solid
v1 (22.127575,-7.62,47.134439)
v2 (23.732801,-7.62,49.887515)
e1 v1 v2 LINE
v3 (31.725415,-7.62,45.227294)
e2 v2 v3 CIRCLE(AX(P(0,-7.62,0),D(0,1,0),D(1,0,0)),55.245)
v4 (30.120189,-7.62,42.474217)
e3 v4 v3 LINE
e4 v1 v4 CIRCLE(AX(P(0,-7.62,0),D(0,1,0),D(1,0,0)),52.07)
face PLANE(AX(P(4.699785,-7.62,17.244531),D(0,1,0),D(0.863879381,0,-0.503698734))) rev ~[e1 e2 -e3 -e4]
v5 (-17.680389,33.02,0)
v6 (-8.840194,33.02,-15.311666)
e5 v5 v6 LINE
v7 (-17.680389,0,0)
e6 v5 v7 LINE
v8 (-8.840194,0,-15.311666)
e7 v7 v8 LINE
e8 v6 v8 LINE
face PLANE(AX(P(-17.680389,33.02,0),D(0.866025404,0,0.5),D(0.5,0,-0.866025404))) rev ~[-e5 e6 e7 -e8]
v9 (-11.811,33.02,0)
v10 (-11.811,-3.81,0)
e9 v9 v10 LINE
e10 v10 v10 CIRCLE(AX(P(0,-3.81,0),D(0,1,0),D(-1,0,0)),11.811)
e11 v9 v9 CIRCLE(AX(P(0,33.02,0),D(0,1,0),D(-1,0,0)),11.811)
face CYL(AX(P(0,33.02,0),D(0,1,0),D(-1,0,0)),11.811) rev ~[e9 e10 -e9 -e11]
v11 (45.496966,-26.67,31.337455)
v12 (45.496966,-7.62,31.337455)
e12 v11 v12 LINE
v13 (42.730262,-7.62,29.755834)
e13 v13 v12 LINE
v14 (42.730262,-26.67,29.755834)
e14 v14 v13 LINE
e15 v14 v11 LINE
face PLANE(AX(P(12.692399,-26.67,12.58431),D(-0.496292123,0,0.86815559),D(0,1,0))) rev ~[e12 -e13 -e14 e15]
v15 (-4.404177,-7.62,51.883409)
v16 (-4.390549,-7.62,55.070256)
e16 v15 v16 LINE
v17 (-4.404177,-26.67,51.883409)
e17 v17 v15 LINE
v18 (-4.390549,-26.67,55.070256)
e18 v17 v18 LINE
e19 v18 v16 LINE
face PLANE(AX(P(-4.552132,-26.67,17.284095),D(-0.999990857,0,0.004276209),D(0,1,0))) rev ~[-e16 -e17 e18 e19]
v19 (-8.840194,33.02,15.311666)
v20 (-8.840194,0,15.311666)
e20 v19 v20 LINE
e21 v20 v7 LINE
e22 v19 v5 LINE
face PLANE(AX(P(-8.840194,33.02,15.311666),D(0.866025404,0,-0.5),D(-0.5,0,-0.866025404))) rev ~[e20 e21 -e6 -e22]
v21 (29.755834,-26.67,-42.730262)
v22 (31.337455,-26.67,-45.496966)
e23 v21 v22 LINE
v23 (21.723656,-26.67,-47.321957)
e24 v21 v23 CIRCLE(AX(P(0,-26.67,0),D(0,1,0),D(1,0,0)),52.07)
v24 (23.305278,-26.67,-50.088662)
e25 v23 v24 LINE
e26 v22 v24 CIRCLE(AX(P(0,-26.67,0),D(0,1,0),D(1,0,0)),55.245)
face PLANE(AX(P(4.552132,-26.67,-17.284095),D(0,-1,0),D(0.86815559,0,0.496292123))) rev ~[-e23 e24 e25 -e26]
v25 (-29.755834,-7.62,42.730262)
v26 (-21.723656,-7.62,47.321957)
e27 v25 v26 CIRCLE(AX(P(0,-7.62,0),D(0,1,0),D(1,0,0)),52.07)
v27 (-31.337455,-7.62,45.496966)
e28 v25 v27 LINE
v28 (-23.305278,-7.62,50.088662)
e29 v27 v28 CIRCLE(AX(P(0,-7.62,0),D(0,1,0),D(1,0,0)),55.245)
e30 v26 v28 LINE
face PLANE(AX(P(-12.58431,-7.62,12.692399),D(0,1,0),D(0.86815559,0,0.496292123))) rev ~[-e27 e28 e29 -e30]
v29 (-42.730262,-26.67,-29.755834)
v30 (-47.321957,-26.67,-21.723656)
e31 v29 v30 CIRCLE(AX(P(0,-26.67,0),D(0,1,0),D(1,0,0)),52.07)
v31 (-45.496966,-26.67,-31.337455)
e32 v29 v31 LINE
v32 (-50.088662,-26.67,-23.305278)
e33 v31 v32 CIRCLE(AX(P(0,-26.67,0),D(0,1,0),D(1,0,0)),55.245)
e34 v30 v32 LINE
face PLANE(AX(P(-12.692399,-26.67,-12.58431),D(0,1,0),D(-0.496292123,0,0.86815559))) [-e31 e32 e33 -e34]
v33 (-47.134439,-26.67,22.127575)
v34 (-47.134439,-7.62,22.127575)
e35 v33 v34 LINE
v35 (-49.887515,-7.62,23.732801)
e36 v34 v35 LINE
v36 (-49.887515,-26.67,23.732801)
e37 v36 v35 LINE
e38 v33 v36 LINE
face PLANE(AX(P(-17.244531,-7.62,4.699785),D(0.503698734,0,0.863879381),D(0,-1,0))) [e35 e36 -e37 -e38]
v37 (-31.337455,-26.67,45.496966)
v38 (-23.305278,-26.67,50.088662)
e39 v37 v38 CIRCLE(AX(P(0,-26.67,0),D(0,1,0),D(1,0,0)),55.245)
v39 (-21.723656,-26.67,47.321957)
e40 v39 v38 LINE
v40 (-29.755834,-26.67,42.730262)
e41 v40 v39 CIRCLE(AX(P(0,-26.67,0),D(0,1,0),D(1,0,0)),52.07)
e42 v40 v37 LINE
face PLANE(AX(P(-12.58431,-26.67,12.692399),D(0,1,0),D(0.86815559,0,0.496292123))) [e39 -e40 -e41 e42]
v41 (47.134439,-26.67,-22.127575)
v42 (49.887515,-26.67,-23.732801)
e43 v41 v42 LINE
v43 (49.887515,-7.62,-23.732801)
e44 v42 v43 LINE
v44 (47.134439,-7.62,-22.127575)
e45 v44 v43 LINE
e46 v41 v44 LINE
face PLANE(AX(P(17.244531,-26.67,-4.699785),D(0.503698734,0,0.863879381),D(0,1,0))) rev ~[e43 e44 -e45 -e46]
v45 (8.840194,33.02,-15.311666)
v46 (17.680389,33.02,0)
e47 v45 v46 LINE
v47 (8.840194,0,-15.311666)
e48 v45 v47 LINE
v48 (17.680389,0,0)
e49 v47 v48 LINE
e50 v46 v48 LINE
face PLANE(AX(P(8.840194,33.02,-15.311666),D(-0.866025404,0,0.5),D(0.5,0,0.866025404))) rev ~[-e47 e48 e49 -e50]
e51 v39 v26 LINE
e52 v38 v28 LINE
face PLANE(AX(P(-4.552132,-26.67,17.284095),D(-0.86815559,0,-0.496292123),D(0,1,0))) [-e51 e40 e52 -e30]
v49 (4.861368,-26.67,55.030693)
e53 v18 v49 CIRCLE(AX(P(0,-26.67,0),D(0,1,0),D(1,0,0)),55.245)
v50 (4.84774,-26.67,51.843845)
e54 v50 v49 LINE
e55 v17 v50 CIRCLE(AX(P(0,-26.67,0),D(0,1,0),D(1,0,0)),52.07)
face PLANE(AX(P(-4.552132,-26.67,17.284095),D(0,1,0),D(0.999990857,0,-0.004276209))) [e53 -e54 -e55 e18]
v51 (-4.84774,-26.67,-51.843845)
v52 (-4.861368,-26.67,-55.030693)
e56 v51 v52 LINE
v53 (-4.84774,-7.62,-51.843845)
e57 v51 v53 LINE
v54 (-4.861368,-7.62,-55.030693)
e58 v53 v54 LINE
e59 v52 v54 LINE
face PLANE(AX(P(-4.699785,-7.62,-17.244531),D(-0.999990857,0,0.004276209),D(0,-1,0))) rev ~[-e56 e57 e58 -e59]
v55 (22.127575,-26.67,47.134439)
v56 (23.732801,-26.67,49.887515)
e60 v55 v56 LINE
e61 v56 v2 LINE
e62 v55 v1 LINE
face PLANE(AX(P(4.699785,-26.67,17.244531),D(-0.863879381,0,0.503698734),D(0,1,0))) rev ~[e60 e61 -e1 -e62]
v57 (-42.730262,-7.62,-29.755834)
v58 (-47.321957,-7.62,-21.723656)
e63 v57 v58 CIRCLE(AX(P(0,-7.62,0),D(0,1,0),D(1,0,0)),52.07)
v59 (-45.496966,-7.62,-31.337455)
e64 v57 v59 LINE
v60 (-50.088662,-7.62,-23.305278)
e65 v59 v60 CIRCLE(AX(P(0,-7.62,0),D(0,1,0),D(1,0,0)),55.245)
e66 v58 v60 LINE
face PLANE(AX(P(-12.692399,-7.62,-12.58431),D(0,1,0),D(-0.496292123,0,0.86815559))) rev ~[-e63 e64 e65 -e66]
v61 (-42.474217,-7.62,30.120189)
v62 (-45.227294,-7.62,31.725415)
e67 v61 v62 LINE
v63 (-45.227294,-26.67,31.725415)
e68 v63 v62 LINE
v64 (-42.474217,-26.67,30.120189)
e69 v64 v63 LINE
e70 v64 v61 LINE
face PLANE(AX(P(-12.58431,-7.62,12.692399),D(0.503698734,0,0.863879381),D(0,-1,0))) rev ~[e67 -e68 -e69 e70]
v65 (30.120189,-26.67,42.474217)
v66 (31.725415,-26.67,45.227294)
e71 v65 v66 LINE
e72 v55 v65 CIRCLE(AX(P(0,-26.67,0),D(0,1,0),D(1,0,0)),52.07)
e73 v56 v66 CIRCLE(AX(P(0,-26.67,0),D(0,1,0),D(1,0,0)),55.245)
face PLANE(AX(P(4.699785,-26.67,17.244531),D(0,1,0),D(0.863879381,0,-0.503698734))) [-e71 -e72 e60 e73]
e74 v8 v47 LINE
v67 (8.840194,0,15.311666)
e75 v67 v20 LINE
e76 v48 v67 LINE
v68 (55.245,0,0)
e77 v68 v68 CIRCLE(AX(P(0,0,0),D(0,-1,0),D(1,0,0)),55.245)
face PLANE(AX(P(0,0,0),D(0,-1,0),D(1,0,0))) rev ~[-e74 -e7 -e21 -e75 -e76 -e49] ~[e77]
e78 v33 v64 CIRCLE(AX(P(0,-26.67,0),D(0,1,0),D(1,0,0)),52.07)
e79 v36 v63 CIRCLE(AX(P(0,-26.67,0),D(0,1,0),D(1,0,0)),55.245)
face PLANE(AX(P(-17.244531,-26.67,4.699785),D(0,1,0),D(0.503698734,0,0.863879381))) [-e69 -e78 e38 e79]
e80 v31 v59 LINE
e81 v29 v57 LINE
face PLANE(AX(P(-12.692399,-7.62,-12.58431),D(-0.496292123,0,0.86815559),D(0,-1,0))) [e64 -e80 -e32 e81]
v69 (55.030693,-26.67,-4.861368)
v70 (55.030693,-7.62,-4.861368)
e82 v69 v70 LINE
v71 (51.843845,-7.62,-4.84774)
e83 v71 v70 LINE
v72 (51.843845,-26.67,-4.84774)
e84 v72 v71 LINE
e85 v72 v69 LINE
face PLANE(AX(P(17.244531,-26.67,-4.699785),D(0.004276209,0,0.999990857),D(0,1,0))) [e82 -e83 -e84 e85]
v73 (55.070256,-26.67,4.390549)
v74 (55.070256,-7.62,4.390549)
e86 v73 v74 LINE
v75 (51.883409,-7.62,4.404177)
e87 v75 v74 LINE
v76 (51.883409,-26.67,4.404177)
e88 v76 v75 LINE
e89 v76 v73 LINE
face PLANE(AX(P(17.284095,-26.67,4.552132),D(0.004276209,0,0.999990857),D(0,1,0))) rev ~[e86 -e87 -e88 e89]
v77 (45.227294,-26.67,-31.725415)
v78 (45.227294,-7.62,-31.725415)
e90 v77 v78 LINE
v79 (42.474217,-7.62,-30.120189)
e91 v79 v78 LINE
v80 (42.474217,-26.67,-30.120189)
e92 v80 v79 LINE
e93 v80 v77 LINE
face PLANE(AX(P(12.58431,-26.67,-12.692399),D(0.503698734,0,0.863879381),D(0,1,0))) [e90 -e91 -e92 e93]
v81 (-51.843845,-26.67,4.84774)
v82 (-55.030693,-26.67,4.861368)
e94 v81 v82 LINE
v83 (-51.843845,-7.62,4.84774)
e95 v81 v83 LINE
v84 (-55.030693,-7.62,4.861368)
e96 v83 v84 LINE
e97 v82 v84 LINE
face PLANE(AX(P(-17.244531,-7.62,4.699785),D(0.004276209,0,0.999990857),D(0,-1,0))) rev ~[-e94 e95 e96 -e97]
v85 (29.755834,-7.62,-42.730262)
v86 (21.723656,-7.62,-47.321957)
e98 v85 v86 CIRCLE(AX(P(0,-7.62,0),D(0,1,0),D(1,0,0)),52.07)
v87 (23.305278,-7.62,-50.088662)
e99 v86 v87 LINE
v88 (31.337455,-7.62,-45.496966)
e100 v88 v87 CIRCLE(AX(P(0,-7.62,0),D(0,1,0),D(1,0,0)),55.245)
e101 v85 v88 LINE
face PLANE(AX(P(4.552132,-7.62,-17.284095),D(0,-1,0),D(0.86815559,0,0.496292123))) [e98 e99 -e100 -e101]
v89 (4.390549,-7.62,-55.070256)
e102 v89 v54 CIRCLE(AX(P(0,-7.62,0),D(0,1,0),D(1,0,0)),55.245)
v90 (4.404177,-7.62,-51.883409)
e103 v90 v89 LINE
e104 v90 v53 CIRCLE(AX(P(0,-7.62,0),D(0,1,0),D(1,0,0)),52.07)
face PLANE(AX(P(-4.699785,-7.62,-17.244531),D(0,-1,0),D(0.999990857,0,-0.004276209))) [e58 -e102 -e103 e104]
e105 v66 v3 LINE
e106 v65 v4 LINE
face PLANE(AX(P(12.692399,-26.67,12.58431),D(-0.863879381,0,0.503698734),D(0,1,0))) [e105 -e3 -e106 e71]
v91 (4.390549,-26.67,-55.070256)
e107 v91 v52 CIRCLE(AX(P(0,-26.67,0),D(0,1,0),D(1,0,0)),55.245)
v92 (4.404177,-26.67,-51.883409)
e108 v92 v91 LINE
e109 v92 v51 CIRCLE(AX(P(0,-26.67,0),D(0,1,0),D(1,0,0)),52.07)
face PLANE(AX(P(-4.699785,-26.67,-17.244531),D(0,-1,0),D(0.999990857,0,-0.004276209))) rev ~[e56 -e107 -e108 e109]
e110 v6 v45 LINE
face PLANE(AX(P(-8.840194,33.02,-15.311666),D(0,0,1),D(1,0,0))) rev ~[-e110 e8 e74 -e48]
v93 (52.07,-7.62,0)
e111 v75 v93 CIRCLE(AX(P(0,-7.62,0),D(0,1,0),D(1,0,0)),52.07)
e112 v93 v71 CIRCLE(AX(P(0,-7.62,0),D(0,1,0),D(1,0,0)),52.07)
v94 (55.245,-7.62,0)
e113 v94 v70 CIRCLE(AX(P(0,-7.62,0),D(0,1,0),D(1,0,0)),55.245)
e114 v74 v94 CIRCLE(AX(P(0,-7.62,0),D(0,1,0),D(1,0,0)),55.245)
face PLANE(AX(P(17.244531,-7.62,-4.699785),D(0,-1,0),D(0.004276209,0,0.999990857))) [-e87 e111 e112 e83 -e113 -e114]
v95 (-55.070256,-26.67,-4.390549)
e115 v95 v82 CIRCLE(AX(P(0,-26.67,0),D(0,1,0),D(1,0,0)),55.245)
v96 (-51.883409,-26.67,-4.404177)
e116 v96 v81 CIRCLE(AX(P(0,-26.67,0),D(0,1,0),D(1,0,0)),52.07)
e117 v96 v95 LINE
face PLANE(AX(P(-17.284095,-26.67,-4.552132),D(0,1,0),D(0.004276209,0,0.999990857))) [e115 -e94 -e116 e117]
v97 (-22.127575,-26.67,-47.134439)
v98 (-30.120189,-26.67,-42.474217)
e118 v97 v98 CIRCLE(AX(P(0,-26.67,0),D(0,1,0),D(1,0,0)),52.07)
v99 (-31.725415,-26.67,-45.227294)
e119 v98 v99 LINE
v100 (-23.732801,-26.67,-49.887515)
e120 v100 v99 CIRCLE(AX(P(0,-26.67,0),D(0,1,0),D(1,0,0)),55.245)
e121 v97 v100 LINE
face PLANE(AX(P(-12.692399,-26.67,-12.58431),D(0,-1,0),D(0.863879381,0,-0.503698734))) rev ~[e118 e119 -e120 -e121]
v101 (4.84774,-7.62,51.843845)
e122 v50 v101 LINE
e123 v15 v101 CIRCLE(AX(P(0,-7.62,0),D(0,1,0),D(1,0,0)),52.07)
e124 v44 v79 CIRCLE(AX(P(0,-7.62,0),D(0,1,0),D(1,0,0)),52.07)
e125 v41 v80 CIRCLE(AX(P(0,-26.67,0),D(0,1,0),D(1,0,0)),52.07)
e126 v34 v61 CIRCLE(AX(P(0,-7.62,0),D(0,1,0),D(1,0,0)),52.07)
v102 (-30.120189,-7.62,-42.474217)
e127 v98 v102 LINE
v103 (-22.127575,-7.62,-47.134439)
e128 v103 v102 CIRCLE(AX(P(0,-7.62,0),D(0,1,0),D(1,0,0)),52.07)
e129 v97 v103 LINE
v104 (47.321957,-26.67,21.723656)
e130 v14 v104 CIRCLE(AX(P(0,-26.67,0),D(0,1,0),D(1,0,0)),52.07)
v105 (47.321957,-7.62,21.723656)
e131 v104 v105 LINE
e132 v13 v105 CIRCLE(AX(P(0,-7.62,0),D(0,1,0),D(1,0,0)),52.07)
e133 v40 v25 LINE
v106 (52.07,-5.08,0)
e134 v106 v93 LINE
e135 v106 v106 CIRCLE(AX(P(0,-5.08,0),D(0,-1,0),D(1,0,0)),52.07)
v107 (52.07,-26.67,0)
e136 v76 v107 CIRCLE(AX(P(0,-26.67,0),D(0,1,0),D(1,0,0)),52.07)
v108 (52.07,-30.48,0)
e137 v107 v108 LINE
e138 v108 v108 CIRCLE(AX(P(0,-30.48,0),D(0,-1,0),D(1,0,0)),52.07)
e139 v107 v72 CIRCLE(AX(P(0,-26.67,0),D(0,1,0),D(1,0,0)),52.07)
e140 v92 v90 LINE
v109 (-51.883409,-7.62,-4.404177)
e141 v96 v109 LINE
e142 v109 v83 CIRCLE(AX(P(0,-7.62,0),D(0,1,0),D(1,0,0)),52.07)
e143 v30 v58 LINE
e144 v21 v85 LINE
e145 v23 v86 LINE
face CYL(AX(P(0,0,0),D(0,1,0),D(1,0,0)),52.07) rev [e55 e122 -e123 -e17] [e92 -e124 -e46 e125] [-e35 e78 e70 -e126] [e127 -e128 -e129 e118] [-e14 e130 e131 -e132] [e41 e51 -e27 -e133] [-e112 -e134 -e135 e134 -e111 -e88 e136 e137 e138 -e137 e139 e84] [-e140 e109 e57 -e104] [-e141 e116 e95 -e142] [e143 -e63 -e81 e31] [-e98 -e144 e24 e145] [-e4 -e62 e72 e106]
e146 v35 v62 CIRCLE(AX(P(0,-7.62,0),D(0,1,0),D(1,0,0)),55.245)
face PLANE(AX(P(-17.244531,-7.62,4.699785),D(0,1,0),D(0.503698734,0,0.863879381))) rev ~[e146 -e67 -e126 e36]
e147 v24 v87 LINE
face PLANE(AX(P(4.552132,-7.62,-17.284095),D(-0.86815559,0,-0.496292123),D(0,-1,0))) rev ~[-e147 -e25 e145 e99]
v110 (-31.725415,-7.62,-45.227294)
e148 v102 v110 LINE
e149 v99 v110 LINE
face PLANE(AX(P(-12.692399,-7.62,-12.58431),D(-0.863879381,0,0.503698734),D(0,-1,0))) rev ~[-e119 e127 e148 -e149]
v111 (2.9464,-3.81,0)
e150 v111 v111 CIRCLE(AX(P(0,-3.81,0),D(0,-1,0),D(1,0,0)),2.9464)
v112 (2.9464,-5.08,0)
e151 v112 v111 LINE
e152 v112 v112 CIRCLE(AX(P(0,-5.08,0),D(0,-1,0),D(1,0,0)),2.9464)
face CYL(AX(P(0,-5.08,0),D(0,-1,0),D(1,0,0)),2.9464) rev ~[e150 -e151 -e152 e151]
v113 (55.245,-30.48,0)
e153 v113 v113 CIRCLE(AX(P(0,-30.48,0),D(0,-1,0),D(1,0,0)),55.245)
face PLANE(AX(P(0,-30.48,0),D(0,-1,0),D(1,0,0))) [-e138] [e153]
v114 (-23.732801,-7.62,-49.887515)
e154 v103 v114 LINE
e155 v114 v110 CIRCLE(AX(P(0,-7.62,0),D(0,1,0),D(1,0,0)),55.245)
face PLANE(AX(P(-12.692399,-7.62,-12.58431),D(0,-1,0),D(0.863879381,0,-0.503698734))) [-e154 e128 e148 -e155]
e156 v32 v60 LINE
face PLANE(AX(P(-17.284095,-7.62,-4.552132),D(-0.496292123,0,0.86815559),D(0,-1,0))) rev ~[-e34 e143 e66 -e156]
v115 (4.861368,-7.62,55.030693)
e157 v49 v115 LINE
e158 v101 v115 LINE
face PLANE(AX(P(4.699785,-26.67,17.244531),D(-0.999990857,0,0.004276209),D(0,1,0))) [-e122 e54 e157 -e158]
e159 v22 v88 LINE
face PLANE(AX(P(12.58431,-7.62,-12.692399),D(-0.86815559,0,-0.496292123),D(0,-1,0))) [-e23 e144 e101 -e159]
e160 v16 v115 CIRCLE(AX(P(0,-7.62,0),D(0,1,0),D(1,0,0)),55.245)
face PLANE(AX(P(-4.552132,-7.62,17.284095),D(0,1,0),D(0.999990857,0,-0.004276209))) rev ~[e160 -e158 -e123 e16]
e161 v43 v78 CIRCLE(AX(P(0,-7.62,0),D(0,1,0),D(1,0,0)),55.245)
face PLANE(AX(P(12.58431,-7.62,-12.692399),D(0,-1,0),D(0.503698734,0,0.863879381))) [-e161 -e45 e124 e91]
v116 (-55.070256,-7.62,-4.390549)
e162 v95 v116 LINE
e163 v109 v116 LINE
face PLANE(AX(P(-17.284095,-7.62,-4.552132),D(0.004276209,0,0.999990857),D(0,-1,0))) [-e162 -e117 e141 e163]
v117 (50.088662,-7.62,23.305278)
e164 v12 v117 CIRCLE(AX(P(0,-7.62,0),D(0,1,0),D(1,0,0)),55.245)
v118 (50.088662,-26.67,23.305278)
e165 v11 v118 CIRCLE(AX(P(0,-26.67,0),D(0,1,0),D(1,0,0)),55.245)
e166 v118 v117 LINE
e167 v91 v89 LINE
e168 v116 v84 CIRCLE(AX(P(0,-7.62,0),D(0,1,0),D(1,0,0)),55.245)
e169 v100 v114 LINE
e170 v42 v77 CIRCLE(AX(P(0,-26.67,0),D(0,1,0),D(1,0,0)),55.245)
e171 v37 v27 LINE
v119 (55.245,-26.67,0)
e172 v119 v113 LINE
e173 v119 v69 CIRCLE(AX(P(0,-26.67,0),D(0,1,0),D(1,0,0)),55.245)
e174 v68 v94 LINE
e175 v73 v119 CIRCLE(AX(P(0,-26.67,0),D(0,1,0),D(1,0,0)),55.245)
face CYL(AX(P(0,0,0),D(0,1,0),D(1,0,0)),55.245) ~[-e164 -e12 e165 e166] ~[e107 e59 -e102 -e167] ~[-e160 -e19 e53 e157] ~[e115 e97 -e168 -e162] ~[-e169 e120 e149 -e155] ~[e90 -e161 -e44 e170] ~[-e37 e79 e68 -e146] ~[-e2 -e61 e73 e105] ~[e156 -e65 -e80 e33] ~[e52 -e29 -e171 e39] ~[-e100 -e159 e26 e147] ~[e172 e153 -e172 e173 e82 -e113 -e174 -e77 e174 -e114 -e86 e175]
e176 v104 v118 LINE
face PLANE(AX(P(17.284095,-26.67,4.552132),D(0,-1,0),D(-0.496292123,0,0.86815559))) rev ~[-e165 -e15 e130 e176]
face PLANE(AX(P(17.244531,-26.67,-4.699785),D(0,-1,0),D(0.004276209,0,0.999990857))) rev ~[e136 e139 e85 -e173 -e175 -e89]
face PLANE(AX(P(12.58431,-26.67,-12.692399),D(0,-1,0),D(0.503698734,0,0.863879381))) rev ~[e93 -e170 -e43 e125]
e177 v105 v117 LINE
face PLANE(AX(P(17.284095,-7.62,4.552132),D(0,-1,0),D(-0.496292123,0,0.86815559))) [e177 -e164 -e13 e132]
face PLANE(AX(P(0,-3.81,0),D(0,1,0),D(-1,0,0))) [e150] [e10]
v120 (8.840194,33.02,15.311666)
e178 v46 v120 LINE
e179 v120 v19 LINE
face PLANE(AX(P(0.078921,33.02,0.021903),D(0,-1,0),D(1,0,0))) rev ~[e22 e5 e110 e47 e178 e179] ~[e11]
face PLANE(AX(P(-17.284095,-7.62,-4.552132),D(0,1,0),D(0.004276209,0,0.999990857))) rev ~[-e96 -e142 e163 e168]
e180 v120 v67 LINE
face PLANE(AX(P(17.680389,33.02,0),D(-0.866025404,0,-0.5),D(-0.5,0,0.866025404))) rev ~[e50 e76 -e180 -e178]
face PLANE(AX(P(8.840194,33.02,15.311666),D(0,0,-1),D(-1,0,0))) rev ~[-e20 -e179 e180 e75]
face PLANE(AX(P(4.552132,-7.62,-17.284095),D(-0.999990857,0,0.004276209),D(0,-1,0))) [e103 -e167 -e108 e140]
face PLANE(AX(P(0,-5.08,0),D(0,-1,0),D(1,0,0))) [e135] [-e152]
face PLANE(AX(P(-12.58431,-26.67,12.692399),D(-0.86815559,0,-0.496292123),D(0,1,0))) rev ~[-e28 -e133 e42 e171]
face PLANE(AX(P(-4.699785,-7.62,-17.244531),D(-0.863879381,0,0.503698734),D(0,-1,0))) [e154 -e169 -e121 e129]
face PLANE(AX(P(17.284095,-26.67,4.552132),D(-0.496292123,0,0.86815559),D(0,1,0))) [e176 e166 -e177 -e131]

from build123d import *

# Parameters (mm, degrees)
F0_R      = 52.07
F1_DEPTH  = 5.08
F0_R_2    = 55.245
F2_DEPTH  = 30.48
F4_DEPTH  = 21.59
F5_W      = 9.2520020868
F5_H      = 19.05
F6_DEPTH  = 50.8
F7_W      = 9.2520020868
F7_H      = 19.05
F8_DEPTH  = 50.8
F9_W      = 9.2520020868
F9_H      = 19.05
F10_DEPTH = 50.8
F11_W     = 19.05
F11_H     = 9.2520020868
F12_DEPTH = 50.8
F13_W     = 19.05
F13_H     = 9.2520020868
F14_DEPTH = 50.8
F15_W     = 19.05
F15_H     = 9.2520020868
F16_DEPTH = 50.8
F17_W     = 9.2520020868
F17_H     = 19.05
F18_DEPTH = 50.8
F19_W     = 9.2520020868
F19_H     = 19.05
F20_DEPTH = 50.8
F21_W     = 9.2520020868
F21_H     = 19.05
F22_DEPTH = 50.8
F23_W     = 19.05
F23_H     = 9.2520020868
F24_DEPTH = 50.8
F25_W     = 19.05
F25_H     = 9.2520020868
F26_DEPTH = 50.8
F27_W     = 19.05
F27_H     = 9.2520020868
F28_DEPTH = 50.8
F29_W     = 40.64
F29_H     = 38.1
F30_DEPTH = 33.02
F31_DEPTH = 21.59
F33_R     = 2.9464
F34_DEPTH = 1.6256
F32_R     = 11.811
F35_DEPTH = 36.83
F36_W     = 40.64
F36_H     = 38.1
F37_DEPTH = 33.02


with BuildPart() as f1:
    # F0 (on Front) → F1 (new body)
    with BuildSketch(Plane.XZ):
        Circle(F0_R)
    extrude(amount=F1_DEPTH)

    # F0 (on Front) → F2 (join)
    with BuildSketch(Plane.XZ):
        Circle(F0_R_2)
        Circle(F0_R, mode=Mode.SUBTRACT)
    extrude(amount=F2_DEPTH)

    # F3 (on face) → F4 (join)
    with BuildSketch(Plane.XZ.offset(5.08)):
        Polygon((4.5521322669, -17.2840948262), (12.5843095976, -12.6923990675), (17.2445313344, -4.6997852286), (17.2840948262, 4.5521322669), (12.6923990675, 12.5843095976), (4.6997852286, 17.2445313344), (-4.5521322669, 17.2840948262), (-12.5843095976, 12.6923990675), (-17.2445313344, 4.6997852286), (-17.2840948262, -4.5521322669), (-12.6923990675, -12.5843095976), (-4.6997852286, -17.2445313344), align=None)
    extrude(amount=F4_DEPTH)

    # F5 (on face) → F6 (cut)
    with BuildSketch(Plane(origin=(8.696092148, 0, 14.914420466), x_dir=(0.8638793813, 0, -0.5036987339), z_dir=(0.5036987339, 0, 0.8638793813))):
        with Locations((0, -17.145)):
            Rectangle(F5_W, F5_H)
    extrude(amount=F6_DEPTH, mode=Mode.SUBTRACT)

    # F7 (on face) → F8 (cut)
    with BuildSketch(Plane(origin=(0.0738264808, 0, 17.2643130803), x_dir=(0.999990857, 0, -0.0042762087), z_dir=(0.0042762087, 0, 0.999990857))):
        with Locations((0, -17.145)):
            Rectangle(F7_W, F7_H)
    extrude(amount=F8_DEPTH, mode=Mode.SUBTRACT)

    # F9 (on face) → F10 (cut)
    with BuildSketch(Plane(origin=(-8.5682209323, 0, 14.9882469469), x_dir=(0.86815559, 0, 0.4962921231), z_dir=(-0.4962921231, 0, 0.86815559))):
        with Locations((0, -17.145)):
            Rectangle(F9_W, F9_H)
    extrude(amount=F10_DEPTH, mode=Mode.SUBTRACT)

    # F11 (on face) → F12 (cut)
    with BuildSketch(Plane(origin=(-14.914420466, 0, 8.696092148), x_dir=(0, -1, 0), z_dir=(-0.8638793813, 0, 0.5036987339))):
        with Locations((17.145, 0)):
            Rectangle(F11_W, F11_H)
    extrude(amount=F12_DEPTH, mode=Mode.SUBTRACT)

    # F13 (on face) → F14 (cut)
    with BuildSketch(Plane(origin=(-17.2643130803, 0, 0.0738264808), x_dir=(0, -1, 0), z_dir=(-0.999990857, 0, 0.0042762087))):
        with Locations((17.145, 0)):
            Rectangle(F13_W, F13_H)
    extrude(amount=F14_DEPTH, mode=Mode.SUBTRACT)

    # F15 (on face) → F16 (cut)
    with BuildSketch(Plane(origin=(-14.9882469469, 0, -8.5682209323), x_dir=(0, -1, 0), z_dir=(-0.86815559, 0, -0.4962921231))):
        with Locations((17.145, 0)):
            Rectangle(F15_W, F15_H)
    extrude(amount=F16_DEPTH, mode=Mode.SUBTRACT)

    # F17 (on face) → F18 (cut)
    with BuildSketch(Plane(origin=(-8.696092148, 0, -14.914420466), x_dir=(0.8638793813, 0, -0.5036987339), z_dir=(-0.5036987339, 0, -0.8638793813))):
        with Locations((0, 17.145)):
            Rectangle(F17_W, F17_H)
    extrude(amount=F18_DEPTH, mode=Mode.SUBTRACT)

    # F19 (on face) → F20 (cut)
    with BuildSketch(Plane(origin=(-0.0738264808, 0, -17.2643130803), x_dir=(0.999990857, 0, -0.0042762087), z_dir=(-0.0042762087, 0, -0.999990857))):
        with Locations((0, 17.145)):
            Rectangle(F19_W, F19_H)
    extrude(amount=F20_DEPTH, mode=Mode.SUBTRACT)

    # F21 (on face) → F22 (cut)
    with BuildSketch(Plane(origin=(8.5682209323, 0, -14.9882469469), x_dir=(0.86815559, 0, 0.4962921231), z_dir=(0.4962921231, 0, -0.86815559))):
        with Locations((0, 17.145)):
            Rectangle(F21_W, F21_H)
    extrude(amount=F22_DEPTH, mode=Mode.SUBTRACT)

    # F23 (on face) → F24 (cut)
    with BuildSketch(Plane(origin=(14.914420466, 0, -8.696092148), x_dir=(0, 1, 0), z_dir=(0.8638793813, 0, -0.5036987339))):
        with Locations((-17.145, 0)):
            Rectangle(F23_W, F23_H)
    extrude(amount=F24_DEPTH, mode=Mode.SUBTRACT)

    # F25 (on face) → F26 (cut)
    with BuildSketch(Plane(origin=(17.2643130803, 0, -0.0738264808), x_dir=(0, 1, 0), z_dir=(0.999990857, 0, -0.0042762087))):
        with Locations((-17.145, 0)):
            Rectangle(F25_W, F25_H)
    extrude(amount=F26_DEPTH, mode=Mode.SUBTRACT)

    # F27 (on face) → F28 (cut)
    with BuildSketch(Plane(origin=(14.9882469469, 0, 8.5682209323), x_dir=(0, 1, 0), z_dir=(0.86815559, 0, 0.4962921231))):
        with Locations((-17.145, 0)):
            Rectangle(F27_W, F27_H)
    extrude(amount=F28_DEPTH, mode=Mode.SUBTRACT)

    # F29 (on face) → F30 (join)
    with BuildSketch(Plane.XZ):
        with Locations((0.0789208158, 0.021902828)):
            Rectangle(F29_W, F29_H)
    extrude(amount=-F30_DEPTH)

    # F31 (cut): a face of the model
    f31_faces = [f1.faces().sort_by_distance(p)[0] for p in [
        (0, -26.67, 0),
    ]]
    extrude(f31_faces, amount=-F31_DEPTH, mode=Mode.SUBTRACT)

    # F33 (on face) → F34 (cut)
    with BuildSketch(Plane.XZ.offset(5.08)):
        Circle(F33_R)
    extrude(amount=-F34_DEPTH, mode=Mode.SUBTRACT)

    # F32 (on face) → F35 (cut)
    with BuildSketch(Plane(origin=(0, 33.02, 0), x_dir=(-1, 0, 0), z_dir=(0, 1, 0))):
        Circle(F32_R)
    extrude(amount=-F35_DEPTH, mode=Mode.SUBTRACT)

    # F36 (on face) → F37 (cut)
    with BuildSketch(Plane(origin=(0, 33.02, 0), x_dir=(-1, 0, 0), z_dir=(0, 1, 0))):
        with Locations((-0.0789208158, 0.021902828)):
            Rectangle(F36_W, F36_H)
        Polygon((17.6803887808, 0), (8.8401943904, -15.311665833), (-8.8401943904, -15.311665833), (-17.6803887808, 0), (-8.8401943904, 15.311665833), (8.8401943904, 15.311665833), align=None, mode=Mode.SUBTRACT)
    extrude(amount=-F37_DEPTH, mode=Mode.SUBTRACT)


solid = f1.part
